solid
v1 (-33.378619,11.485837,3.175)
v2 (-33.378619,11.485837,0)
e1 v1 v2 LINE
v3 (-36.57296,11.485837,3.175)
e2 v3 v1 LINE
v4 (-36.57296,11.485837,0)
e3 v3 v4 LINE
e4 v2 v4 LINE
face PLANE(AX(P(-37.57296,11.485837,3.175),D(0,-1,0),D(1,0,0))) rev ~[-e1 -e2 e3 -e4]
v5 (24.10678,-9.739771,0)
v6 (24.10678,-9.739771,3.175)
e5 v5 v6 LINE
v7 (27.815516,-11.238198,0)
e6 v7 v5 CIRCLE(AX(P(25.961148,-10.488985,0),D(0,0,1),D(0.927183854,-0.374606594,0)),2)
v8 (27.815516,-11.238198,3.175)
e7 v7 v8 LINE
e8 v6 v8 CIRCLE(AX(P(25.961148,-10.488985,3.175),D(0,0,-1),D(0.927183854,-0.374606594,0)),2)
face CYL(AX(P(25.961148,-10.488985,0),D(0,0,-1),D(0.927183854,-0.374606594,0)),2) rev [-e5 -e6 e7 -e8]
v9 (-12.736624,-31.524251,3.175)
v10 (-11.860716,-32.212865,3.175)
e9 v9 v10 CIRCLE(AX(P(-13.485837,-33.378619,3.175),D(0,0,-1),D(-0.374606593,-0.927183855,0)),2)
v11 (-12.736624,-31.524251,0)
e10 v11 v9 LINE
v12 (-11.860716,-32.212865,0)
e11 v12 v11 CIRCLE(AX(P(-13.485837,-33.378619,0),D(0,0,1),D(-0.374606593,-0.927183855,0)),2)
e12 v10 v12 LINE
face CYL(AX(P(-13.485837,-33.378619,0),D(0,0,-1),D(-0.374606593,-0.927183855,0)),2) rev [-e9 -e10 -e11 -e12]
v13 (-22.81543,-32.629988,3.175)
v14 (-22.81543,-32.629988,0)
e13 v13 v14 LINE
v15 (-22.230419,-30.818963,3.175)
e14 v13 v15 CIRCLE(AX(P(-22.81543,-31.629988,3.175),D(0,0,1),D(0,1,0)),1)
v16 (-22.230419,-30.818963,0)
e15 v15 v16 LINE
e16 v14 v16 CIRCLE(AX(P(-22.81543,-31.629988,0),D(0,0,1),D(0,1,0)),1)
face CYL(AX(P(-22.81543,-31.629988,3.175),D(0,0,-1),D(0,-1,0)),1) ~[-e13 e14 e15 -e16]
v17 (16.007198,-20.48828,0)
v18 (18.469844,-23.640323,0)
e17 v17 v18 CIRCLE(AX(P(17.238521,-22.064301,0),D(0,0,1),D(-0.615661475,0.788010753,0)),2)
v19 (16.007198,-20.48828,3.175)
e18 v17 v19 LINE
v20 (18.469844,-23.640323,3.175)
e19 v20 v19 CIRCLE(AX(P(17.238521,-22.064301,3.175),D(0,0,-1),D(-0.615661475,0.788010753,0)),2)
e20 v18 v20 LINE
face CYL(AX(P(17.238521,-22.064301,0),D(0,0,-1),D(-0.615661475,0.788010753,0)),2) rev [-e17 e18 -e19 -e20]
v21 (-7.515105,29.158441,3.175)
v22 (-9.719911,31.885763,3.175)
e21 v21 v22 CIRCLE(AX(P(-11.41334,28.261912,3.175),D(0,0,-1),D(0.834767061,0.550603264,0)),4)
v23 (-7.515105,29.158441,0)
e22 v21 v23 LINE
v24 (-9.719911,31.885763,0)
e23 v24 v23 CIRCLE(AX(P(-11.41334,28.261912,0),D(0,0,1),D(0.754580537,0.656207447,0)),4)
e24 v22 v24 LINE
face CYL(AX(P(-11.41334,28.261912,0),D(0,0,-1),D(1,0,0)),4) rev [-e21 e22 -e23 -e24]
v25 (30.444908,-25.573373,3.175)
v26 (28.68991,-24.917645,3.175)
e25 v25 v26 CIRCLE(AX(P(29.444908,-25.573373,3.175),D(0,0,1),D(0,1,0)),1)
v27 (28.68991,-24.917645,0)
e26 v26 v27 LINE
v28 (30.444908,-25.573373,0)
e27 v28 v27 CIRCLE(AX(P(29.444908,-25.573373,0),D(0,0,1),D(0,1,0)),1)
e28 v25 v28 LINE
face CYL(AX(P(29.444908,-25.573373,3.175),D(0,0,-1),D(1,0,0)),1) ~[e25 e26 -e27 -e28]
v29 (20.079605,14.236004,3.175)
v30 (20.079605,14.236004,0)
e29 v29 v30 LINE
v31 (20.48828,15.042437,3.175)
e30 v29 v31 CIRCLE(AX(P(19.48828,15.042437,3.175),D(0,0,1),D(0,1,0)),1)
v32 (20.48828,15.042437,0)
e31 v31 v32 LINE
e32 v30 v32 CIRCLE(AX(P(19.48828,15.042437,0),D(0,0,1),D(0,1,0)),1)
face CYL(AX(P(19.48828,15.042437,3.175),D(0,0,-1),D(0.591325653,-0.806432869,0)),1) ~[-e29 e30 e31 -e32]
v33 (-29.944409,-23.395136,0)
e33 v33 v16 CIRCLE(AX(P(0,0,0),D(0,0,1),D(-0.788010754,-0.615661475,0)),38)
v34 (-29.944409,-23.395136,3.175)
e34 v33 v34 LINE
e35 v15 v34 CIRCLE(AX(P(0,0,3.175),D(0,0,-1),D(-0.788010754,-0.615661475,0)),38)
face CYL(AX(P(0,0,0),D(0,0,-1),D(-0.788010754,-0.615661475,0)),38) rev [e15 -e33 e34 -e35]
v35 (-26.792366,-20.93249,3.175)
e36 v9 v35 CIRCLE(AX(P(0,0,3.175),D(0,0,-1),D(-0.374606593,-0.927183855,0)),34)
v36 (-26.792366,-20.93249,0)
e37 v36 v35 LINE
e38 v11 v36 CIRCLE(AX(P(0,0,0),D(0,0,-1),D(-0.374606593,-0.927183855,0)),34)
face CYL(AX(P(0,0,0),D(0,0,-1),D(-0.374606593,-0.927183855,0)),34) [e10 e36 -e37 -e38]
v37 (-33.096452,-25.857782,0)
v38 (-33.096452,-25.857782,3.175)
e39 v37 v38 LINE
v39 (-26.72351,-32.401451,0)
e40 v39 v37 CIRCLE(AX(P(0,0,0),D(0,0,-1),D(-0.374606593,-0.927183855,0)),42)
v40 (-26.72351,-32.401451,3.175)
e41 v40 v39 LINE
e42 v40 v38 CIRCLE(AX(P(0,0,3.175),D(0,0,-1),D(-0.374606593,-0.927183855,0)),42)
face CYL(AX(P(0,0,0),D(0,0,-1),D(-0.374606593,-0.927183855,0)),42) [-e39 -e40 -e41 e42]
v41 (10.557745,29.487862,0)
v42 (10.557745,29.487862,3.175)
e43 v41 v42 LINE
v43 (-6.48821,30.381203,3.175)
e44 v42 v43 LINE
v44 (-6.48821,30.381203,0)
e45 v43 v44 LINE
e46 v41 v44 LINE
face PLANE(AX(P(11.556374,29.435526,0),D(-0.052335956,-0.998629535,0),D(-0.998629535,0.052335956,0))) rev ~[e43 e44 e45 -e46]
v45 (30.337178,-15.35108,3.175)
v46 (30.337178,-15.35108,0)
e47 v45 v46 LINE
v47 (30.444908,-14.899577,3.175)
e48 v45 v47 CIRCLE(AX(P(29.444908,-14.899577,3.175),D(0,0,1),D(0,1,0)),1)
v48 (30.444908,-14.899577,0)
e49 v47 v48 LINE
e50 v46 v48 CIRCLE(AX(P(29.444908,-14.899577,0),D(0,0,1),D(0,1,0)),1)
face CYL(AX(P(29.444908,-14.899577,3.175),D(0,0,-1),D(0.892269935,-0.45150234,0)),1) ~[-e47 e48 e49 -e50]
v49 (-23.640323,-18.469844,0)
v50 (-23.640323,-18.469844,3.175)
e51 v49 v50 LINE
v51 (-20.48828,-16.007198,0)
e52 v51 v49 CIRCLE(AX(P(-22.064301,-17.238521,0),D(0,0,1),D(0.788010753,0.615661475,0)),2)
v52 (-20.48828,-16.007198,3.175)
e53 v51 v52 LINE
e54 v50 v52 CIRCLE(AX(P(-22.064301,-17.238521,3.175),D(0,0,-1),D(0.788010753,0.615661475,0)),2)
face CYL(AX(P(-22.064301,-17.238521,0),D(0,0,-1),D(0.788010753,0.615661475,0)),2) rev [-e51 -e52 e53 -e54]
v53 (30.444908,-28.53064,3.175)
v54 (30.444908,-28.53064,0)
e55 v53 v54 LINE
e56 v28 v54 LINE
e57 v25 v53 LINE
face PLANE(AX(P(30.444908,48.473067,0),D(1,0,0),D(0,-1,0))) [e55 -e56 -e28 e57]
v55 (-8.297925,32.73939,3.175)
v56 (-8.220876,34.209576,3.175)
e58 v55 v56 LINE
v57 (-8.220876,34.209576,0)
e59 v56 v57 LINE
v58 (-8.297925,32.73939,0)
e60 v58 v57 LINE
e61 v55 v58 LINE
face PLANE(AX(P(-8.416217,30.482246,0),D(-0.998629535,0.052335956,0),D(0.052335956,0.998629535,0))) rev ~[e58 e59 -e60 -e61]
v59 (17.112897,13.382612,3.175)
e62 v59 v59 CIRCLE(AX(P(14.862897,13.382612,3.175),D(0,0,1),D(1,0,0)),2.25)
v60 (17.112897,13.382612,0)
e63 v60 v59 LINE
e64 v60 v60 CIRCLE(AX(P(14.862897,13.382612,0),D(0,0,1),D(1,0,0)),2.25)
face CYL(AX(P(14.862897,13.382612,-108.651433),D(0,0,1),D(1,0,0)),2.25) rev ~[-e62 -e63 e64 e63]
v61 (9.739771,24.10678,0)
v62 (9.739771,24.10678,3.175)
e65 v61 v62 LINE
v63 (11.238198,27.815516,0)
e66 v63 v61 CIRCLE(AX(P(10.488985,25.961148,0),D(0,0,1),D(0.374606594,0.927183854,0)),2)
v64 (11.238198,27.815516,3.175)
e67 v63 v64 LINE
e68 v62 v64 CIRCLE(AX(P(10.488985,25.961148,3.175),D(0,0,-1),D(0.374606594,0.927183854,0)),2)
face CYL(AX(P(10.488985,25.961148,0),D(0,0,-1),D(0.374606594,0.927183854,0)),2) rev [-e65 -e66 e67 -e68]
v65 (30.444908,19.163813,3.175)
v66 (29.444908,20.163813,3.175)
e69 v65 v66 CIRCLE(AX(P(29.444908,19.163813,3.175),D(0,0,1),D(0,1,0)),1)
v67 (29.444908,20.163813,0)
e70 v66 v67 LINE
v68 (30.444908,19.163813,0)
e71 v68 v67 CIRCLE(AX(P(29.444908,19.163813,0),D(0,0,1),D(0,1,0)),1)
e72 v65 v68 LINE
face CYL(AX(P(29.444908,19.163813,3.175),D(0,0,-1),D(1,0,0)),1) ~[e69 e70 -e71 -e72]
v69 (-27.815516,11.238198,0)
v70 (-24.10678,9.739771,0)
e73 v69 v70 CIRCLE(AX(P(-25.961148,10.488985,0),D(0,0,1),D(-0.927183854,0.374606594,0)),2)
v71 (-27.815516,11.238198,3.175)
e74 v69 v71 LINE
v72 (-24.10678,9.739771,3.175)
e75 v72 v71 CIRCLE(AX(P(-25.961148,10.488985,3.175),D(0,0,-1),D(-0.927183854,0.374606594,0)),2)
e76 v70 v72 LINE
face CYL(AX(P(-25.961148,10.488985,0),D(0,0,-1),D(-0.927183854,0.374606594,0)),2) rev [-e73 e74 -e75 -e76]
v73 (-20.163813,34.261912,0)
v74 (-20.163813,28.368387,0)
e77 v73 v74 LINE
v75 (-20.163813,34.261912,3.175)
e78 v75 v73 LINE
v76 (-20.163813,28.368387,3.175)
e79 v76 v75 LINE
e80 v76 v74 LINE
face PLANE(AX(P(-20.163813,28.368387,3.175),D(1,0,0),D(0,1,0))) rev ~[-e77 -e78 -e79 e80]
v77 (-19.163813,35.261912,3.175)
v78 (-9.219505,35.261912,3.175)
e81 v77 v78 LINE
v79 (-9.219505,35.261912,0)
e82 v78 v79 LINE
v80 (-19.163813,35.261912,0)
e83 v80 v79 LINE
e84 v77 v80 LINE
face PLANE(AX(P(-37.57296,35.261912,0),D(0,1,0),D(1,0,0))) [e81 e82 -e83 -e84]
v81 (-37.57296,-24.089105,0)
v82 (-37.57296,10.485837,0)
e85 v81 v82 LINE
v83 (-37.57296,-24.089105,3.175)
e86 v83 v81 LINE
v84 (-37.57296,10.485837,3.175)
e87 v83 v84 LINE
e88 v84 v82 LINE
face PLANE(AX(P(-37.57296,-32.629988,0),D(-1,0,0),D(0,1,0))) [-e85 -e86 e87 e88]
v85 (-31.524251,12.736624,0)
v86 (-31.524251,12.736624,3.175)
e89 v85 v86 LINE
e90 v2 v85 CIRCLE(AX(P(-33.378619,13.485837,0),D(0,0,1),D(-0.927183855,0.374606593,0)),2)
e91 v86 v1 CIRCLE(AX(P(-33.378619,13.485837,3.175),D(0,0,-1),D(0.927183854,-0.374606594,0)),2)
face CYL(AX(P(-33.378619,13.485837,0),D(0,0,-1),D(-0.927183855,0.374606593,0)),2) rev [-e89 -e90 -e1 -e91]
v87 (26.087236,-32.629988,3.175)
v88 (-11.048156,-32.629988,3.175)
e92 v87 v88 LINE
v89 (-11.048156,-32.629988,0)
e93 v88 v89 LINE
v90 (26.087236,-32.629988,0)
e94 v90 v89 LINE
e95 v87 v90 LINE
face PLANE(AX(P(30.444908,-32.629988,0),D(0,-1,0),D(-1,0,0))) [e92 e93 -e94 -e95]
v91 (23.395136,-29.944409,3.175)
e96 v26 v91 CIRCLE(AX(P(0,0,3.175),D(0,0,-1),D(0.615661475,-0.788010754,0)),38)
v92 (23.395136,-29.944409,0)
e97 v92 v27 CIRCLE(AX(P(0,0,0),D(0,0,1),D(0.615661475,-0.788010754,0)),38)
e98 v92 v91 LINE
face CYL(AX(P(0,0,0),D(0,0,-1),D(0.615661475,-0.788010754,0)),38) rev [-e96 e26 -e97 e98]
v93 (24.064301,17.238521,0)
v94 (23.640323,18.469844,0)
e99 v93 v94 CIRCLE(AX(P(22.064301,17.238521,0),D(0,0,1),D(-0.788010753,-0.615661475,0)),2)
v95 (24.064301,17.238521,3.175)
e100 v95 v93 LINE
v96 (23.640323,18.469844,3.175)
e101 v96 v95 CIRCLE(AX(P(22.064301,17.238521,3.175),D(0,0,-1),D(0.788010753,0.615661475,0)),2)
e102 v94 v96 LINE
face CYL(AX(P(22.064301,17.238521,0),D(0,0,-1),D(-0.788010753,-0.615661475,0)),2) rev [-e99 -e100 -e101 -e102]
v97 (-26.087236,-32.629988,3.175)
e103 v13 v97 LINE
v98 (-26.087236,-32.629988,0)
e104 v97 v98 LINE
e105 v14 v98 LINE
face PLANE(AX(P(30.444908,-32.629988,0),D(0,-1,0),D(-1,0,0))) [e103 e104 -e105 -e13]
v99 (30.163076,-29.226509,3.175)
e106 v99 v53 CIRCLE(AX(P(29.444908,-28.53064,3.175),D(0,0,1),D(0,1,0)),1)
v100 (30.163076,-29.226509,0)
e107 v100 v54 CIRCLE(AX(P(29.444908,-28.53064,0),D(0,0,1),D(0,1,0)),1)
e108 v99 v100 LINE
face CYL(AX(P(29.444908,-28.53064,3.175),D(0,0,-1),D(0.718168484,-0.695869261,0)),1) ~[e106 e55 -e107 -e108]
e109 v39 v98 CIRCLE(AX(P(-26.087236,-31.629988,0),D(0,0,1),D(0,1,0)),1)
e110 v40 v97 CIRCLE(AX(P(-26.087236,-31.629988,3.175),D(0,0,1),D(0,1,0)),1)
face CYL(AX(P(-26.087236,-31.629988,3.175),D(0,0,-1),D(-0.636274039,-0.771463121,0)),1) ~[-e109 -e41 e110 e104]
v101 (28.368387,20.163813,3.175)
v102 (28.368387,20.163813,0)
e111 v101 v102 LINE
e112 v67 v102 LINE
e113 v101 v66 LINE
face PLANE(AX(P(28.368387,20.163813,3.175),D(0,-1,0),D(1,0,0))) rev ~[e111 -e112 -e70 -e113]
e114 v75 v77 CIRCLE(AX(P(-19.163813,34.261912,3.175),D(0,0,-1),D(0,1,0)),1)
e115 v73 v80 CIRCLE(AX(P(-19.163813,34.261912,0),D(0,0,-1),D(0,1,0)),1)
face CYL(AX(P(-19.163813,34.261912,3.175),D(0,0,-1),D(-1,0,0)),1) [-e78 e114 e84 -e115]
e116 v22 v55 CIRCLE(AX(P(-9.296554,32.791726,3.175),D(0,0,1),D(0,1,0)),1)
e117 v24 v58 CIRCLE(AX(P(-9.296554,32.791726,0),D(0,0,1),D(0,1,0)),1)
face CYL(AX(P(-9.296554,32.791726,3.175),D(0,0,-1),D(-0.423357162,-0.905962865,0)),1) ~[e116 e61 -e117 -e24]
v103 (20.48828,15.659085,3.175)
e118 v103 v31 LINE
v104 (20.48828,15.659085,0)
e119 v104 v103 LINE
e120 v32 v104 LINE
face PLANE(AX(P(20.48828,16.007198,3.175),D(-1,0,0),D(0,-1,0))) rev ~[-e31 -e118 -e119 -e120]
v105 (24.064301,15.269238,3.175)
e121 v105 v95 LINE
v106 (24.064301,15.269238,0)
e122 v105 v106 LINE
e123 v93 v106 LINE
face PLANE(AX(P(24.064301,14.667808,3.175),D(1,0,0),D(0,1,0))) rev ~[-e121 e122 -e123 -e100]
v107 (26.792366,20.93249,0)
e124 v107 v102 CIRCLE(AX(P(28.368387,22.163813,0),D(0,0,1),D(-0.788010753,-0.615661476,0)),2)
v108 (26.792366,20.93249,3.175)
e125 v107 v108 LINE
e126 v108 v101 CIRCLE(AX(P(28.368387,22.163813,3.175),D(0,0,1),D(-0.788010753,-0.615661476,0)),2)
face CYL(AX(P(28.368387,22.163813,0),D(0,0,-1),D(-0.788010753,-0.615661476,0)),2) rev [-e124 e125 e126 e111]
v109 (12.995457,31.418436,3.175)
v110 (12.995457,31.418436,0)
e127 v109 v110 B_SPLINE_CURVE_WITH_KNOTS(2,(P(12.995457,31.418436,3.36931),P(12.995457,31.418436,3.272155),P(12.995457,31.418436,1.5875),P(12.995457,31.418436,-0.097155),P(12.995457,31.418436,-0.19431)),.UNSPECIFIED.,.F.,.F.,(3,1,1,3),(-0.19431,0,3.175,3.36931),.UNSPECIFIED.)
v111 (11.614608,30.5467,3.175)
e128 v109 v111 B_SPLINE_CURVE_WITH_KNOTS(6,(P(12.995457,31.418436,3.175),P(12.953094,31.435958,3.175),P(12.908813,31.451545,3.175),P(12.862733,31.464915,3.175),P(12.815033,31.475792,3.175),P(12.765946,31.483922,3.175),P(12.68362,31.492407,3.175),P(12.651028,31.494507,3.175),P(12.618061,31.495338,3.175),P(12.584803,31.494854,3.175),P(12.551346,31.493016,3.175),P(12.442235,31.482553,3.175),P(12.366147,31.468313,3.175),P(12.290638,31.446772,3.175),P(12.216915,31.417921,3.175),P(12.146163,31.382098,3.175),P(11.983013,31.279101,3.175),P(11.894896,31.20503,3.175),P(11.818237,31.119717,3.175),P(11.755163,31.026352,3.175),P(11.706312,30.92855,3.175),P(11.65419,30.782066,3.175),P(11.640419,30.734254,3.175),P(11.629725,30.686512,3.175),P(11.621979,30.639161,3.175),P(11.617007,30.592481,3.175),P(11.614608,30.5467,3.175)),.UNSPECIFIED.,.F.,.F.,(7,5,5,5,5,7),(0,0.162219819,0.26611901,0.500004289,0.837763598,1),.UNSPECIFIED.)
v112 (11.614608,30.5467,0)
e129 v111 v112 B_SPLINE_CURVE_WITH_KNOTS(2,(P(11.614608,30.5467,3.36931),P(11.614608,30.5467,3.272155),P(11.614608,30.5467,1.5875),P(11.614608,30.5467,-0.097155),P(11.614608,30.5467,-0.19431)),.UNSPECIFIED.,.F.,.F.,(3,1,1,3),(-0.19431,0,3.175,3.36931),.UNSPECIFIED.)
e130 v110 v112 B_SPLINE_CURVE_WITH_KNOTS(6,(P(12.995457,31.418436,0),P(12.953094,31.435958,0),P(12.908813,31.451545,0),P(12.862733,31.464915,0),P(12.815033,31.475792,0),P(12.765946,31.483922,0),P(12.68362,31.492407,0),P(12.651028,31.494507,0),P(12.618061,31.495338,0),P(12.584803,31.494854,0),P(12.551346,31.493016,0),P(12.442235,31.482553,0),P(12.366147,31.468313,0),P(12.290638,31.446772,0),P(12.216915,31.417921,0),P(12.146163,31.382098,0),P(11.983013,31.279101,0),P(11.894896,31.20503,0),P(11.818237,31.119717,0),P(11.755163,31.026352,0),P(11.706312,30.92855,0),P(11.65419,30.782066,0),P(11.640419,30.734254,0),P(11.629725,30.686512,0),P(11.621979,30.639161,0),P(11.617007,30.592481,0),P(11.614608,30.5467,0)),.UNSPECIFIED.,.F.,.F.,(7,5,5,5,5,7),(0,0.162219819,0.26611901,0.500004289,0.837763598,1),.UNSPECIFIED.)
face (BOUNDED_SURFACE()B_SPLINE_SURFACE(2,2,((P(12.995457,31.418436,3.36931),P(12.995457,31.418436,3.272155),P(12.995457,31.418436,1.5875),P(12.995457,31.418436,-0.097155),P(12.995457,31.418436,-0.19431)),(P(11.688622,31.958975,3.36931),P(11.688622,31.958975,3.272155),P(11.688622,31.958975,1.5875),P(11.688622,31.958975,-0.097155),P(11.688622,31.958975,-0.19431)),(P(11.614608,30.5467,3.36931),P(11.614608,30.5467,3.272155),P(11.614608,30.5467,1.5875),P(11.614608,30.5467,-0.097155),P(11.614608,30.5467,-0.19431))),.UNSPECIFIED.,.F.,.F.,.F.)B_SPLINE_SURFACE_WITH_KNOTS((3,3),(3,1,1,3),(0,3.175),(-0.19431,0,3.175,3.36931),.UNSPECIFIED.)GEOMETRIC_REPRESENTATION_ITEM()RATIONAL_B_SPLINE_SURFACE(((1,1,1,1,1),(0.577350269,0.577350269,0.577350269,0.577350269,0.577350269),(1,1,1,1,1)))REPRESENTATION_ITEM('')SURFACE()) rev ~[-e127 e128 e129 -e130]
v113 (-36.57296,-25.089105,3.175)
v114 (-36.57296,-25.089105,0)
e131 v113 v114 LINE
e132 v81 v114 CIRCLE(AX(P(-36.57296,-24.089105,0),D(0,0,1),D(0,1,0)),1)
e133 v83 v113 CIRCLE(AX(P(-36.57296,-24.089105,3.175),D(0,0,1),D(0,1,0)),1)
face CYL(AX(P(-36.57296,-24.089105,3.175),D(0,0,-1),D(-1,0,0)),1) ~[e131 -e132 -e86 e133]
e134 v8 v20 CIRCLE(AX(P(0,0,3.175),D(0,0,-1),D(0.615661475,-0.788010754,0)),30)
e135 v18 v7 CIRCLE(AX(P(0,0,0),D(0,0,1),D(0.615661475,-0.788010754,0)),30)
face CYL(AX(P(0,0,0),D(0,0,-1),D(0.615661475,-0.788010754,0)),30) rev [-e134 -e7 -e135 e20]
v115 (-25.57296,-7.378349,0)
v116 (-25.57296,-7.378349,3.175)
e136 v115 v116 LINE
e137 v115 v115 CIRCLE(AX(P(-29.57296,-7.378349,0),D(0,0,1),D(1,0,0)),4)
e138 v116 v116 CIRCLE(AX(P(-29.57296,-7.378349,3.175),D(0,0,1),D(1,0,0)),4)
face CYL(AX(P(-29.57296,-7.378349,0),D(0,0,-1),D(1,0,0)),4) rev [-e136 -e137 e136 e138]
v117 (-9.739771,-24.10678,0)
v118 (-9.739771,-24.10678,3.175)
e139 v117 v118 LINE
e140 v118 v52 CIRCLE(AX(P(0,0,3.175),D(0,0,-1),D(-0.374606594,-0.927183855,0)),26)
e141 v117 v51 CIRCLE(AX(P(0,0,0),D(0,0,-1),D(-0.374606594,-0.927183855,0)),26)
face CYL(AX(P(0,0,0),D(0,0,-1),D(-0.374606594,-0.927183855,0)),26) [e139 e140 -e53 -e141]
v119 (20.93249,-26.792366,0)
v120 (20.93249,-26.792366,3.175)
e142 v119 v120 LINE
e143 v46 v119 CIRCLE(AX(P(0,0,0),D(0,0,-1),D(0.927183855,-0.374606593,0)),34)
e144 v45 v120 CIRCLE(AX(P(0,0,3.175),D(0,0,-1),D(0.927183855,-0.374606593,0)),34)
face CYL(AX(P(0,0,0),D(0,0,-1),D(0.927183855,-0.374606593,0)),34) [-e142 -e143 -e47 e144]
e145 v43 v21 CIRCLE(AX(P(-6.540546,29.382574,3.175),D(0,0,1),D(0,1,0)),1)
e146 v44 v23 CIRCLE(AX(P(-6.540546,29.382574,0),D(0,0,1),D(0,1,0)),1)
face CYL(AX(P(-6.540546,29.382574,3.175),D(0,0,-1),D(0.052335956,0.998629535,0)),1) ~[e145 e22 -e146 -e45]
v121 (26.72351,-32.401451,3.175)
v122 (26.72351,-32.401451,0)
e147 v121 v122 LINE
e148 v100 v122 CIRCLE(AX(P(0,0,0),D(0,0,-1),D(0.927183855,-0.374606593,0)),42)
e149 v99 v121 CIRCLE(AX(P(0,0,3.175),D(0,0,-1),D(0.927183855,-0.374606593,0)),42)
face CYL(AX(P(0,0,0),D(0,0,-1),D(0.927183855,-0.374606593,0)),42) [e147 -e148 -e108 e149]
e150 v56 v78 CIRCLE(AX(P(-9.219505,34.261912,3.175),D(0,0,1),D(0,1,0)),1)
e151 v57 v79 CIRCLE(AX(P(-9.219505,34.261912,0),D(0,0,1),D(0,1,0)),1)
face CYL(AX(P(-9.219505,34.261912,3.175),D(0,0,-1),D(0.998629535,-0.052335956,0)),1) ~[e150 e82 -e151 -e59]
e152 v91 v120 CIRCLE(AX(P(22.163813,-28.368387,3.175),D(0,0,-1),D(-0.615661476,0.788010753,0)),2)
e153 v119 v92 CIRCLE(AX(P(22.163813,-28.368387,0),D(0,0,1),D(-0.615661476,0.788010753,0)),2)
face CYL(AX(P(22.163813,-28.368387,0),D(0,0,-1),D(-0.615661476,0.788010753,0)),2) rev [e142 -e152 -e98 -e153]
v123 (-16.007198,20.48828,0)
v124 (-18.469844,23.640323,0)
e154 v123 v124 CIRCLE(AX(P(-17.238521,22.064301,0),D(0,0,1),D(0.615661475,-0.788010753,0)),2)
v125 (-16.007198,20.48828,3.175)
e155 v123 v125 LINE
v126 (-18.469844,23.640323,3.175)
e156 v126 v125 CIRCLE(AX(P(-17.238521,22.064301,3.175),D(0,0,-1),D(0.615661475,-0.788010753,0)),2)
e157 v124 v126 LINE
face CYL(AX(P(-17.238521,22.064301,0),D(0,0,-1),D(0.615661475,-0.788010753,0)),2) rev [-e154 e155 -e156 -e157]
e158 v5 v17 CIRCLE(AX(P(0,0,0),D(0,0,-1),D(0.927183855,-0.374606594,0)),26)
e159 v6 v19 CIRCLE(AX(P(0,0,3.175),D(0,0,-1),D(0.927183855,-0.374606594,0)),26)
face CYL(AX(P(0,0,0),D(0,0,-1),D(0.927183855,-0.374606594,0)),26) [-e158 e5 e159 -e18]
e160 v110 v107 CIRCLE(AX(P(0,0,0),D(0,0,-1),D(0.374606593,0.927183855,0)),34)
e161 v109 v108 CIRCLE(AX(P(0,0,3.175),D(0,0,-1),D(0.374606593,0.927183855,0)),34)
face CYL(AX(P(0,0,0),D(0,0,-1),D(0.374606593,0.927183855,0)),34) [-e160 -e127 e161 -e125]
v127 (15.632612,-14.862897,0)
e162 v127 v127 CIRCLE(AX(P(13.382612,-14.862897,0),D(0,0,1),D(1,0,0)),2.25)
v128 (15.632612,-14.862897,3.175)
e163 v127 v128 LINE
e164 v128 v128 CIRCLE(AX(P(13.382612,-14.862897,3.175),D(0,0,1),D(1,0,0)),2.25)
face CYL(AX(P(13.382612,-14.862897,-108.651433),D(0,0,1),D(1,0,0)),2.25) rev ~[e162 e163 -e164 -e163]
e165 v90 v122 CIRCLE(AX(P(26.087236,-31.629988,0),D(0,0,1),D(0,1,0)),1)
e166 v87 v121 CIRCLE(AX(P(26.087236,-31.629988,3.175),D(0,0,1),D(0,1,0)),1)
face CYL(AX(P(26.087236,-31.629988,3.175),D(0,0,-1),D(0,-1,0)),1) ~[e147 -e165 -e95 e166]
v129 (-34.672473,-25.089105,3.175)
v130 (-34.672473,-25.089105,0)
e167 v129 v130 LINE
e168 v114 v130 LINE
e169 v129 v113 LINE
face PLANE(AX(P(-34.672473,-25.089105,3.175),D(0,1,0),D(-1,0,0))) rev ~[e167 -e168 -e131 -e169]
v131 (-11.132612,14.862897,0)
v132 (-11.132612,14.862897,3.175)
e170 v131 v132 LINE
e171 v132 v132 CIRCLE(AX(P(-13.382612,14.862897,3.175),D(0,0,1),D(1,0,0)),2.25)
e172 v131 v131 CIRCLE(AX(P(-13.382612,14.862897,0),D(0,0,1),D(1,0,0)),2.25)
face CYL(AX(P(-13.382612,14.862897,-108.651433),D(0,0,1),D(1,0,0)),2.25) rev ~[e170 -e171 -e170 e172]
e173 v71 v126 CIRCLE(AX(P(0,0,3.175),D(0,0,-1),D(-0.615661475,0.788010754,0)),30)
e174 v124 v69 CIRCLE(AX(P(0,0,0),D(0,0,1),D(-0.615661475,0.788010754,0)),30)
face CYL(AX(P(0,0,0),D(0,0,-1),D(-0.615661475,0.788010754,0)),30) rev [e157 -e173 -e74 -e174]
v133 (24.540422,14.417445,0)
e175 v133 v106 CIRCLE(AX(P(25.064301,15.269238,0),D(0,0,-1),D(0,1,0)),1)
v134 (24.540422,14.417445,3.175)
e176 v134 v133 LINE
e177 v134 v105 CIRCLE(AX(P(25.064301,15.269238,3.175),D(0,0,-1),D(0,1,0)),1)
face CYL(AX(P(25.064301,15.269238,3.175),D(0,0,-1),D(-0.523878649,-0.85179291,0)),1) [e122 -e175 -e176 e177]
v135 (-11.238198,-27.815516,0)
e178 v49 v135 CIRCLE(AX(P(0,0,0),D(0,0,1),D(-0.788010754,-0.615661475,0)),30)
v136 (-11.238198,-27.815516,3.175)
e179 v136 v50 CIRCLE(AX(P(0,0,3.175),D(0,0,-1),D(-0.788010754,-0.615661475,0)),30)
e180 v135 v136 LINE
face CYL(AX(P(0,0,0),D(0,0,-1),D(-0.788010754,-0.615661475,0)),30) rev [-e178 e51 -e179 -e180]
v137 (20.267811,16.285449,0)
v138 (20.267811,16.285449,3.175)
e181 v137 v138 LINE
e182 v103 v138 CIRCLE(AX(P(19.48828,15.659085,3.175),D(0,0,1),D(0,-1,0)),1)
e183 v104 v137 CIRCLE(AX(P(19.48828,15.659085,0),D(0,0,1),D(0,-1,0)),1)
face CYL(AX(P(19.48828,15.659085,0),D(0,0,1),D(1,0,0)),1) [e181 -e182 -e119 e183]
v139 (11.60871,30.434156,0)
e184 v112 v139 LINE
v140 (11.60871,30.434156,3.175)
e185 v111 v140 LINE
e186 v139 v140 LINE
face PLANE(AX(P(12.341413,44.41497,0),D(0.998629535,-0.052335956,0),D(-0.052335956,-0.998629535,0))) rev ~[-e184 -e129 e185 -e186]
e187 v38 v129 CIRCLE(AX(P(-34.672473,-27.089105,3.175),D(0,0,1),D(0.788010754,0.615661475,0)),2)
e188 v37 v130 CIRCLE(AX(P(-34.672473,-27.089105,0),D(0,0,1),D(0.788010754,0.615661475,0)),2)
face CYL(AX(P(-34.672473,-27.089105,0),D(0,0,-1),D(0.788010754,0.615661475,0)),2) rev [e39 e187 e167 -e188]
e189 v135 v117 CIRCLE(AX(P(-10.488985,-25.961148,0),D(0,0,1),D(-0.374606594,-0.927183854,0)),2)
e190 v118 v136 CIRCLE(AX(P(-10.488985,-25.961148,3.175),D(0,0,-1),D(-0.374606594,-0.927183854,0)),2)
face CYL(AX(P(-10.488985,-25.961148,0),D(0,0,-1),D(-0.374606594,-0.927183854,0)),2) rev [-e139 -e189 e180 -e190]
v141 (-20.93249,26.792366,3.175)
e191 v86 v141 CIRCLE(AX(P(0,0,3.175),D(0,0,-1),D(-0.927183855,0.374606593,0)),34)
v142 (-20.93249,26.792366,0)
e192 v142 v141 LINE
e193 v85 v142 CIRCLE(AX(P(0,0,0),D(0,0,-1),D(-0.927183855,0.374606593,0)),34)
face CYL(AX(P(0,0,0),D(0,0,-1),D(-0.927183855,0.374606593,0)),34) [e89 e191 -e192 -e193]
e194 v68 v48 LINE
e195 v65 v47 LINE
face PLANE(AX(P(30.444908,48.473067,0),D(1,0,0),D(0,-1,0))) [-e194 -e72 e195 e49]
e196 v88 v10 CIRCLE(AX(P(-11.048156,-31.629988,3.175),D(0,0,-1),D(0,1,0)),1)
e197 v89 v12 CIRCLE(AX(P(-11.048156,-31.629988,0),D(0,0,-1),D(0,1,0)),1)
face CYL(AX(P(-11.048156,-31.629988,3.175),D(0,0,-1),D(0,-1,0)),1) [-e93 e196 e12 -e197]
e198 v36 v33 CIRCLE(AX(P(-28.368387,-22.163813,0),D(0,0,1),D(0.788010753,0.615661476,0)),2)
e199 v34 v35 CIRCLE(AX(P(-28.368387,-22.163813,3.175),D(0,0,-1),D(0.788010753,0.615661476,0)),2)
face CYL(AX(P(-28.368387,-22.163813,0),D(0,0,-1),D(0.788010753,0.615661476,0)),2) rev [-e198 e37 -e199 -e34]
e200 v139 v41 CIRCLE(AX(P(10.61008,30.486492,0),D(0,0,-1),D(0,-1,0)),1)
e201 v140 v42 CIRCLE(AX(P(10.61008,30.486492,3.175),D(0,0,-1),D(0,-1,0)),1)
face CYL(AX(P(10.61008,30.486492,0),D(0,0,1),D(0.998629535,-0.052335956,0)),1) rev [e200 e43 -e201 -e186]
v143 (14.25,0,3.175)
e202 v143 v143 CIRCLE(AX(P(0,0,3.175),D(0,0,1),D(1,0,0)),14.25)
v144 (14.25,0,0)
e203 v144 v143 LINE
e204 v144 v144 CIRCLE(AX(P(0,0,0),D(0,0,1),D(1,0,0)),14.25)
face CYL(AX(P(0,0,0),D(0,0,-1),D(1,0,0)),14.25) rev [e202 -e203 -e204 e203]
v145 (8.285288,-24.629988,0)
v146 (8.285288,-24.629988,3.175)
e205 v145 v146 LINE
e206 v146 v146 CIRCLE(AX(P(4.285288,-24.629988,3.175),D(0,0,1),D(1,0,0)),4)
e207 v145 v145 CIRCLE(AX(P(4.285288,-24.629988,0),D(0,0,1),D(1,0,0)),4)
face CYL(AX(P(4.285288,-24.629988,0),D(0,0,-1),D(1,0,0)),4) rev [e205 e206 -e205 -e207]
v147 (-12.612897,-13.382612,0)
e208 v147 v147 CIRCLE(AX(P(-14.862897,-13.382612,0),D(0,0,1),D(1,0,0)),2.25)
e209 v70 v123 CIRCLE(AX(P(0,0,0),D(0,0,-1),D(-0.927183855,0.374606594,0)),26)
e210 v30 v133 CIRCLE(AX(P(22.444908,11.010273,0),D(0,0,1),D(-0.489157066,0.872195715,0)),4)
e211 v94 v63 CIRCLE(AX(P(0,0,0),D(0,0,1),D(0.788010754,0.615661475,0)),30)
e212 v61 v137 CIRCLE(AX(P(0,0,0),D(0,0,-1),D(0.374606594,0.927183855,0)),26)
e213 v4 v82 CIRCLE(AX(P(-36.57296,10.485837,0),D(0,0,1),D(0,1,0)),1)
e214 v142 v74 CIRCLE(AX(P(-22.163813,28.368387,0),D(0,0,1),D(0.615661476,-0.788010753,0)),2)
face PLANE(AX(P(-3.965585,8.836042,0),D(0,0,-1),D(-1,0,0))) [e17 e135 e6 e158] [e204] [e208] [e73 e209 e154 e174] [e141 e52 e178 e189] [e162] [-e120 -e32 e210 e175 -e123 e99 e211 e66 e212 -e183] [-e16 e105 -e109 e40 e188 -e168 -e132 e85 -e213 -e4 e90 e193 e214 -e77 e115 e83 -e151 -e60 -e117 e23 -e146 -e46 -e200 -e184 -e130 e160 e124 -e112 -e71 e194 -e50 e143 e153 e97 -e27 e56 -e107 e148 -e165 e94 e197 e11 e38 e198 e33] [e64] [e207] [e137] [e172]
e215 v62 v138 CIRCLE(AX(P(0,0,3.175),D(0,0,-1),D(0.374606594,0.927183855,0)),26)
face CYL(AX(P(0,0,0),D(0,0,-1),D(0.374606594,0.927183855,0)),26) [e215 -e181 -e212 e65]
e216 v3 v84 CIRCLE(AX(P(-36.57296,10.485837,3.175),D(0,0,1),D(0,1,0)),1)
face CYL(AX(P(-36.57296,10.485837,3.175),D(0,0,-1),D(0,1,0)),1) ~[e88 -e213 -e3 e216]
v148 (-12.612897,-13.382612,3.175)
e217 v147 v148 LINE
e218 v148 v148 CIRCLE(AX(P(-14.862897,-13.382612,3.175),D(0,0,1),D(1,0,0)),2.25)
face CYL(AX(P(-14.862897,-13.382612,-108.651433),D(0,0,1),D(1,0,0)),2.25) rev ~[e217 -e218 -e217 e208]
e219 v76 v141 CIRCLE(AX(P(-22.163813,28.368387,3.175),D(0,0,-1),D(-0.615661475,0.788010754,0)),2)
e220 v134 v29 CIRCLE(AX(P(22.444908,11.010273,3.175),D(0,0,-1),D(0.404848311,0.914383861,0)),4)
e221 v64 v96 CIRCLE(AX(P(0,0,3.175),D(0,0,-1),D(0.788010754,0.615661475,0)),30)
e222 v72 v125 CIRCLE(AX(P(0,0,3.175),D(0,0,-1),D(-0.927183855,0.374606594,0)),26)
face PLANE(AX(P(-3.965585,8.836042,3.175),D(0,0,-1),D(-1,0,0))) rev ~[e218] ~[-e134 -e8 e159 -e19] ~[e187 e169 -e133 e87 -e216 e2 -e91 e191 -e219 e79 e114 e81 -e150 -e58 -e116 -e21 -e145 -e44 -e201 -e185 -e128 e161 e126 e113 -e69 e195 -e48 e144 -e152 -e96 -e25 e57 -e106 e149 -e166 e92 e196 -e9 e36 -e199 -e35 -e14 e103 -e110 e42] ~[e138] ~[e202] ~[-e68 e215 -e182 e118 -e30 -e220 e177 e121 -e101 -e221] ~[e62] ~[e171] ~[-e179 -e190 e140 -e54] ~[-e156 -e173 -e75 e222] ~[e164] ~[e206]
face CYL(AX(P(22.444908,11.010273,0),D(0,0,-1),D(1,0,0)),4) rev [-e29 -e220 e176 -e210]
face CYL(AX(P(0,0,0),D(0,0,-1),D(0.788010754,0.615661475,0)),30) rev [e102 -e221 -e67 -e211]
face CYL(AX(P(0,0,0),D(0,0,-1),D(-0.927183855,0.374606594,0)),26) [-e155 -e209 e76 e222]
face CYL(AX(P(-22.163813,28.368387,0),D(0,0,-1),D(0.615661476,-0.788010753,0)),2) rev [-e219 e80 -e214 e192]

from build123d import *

# Parameters (mm, degrees)
SKETCH1_R               = 14.25
SKETCH1_R_2             = 4
BOSS_EXTRUDE1_DEPTH     = 3.175
M4_CLEARANCE_HOLE1_D    = 4.5
VENTHOLES_DEPTH         = 65.263003169
CIRPATTERN1_COUNT       = 4
CUT_EXTRUDE2_DEPTH      = 65.263003169
SKETCH7_W               = 68.017867909
SKETCH7_H               = 13.211155311
CUT_EXTRUDE3_DEPTH      = 65.263003169
CUT_EXTRUDE3_DEPTH_BACK = 65.263003169
CUT_EXTRUDE4_DEPTH      = 52.625675669
CUT_EXTRUDE4_DEPTH_BACK = 52.625675669
CUT_EXTRUDE5_DEPTH      = 52.625675669
CUT_EXTRUDE5_DEPTH_BACK = 52.625675669
FILLET1_R               = 1


with BuildPart() as part:
    # Sketch1 → Boss-Extrude1 (new body)
    with BuildSketch(Plane.XY):
        Polygon((30.444907858, -32.62998798), (-37.572960051, -32.62998798), (-37.572960051, 52.037732697), (30.444907858, 48.473067289), align=None)
        Circle(SKETCH1_R, mode=Mode.SUBTRACT)
        with Locations((-29.572960051, -7.37834899)):
            Circle(SKETCH1_R_2, mode=Mode.SUBTRACT)
        with Locations((-11.413340062, 28.261911978)):
            Circle(SKETCH1_R_2, mode=Mode.SUBTRACT)
        with Locations((22.444907858, 11.010272988)):
            Circle(SKETCH1_R_2, mode=Mode.SUBTRACT)
        with Locations((4.285287868, -24.62998798)):
            Circle(SKETCH1_R_2, mode=Mode.SUBTRACT)
    extrude(amount=BOSS_EXTRUDE1_DEPTH)

    # M4 Clearance Hole1 (through all)
    with Locations(Plane(origin=(0, 0, 0), x_dir=(-1, 0, 0), z_dir=(0, 0, -1))):
        with Locations((-14.86289651, 13.382612127), (13.382612127, 14.86289651), (14.86289651, -13.382612127), (-13.382612127, -14.86289651)):
            Hole(M4_CLEARANCE_HOLE1_D / 2)

    # Sketch4 → VentHoles (cut, through all)
    with BuildSketch(Plane.XY):
        with BuildLine():
            ThreePointArc((-23.395136062, 29.944408637), (-30.348149382, 22.86897088), (-35.232986474, 14.23505055))
            ThreePointArc((-35.232986474, 14.23505055), (-34.127831951, 11.631469654), (-31.524251055, 12.736624176))
            ThreePointArc((-31.524251055, 12.736624176), (-27.153607342, 20.461710787), (-20.932490161, 26.792365623))
            ThreePointArc((-20.932490161, 26.792365623), (-20.587791605, 29.59971008), (-23.395136062, 29.944408637))
        make_face()
        with BuildLine():
            ThreePointArc((-18.46984426, 23.640322608), (-23.959065301, 18.054450695), (-27.815515637, 11.238197802))
            ThreePointArc((-27.815515637, 11.238197802), (-26.710361115, 8.634616906), (-24.106780219, 9.739771429))
            ThreePointArc((-24.106780219, 9.739771429), (-20.764523261, 15.647190602), (-16.007198358, 20.488279594))
            ThreePointArc((-16.007198358, 20.488279594), (-15.662499802, 23.295624052), (-18.46984426, 23.640322608))
        make_face()
        with BuildLine():
            ThreePointArc((-42.65045731, 17.231903297), (-41.545302788, 14.628322401), (-38.941721892, 15.733476923))
            ThreePointArc((-38.941721892, 15.733476923), (-33.542691422, 25.276230972), (-25.857781964, 33.096451651))
            ThreePointArc((-25.857781964, 33.096451651), (-25.513083407, 35.903796109), (-28.320427865, 36.248494666))
            ThreePointArc((-28.320427865, 36.248494666), (-36.737233462, 27.683491065), (-42.65045731, 17.231903297))
        make_face()
    ventholes = extrude(amount=VENTHOLES_DEPTH, mode=Mode.SUBTRACT)

    # CirPattern1: VentHoles ×4 about axis
    cirpattern1_axis = Axis((0, 0, 0), (0, 0, 1))
    for i in range(1, CIRPATTERN1_COUNT):
        add(ventholes.rotate(cirpattern1_axis, i * 360 / CIRPATTERN1_COUNT), mode=Mode.SUBTRACT)

    # Sketch5 → Cut-Extrude2 (cut, through all)
    with BuildSketch(Plane.XY):
        Polygon((12.341413378, 44.414969502), (11.556374035, 29.43552648), (-8.41621666, 30.482245605), (-7.631177317, 45.461688626), align=None)
    extrude(amount=CUT_EXTRUDE2_DEPTH, mode=Mode.SUBTRACT)

    # Sketch7 → Cut-Extrude3 (cut, two sides)
    with BuildSketch(Plane.XY) as cut_extrude3_sk:
        with Locations((-3.564026097, 41.867489633)):
            Rectangle(SKETCH7_W, SKETCH7_H)
    extrude(amount=CUT_EXTRUDE3_DEPTH, mode=Mode.SUBTRACT)
    extrude(cut_extrude3_sk.sketch, amount=-CUT_EXTRUDE3_DEPTH_BACK, mode=Mode.SUBTRACT)


with BuildPart() as cut_extrude3_piece_1:
    # of the separate pieces the step leaves, piece 1, a body of its own (cut_extrude3_pieces)
    add(part.part.solids().sort_by_distance((26.443976335, -32.62998798, 0))[0])

    # Sketch9 → Cut-Extrude4 (cut, two sides)
    with BuildSketch(Plane.XY.offset(3.175)) as cut_extrude4_sk:
        with BuildLine():
            ThreePointArc((24.064301101, 17.238521309), (22.71543741, 15.347484158), (20.488279594, 16.007198358))
            Line((20.488279594, 16.007198358), (20.488279594, 14.499055847))
            ThreePointArc((20.488279594, 14.499055847), (22.256357537, 15.005826613), (24.064301101, 14.667808432))
            Line((24.064301101, 14.667808432), (24.064301101, 17.238521309))
        make_face()
    extrude(amount=CUT_EXTRUDE4_DEPTH, mode=Mode.SUBTRACT)
    extrude(cut_extrude4_sk.sketch, amount=-CUT_EXTRUDE4_DEPTH_BACK, mode=Mode.SUBTRACT)

    # Sketch10 → Cut-Extrude5 (cut, two sides)
    with BuildSketch(Plane.XY.offset(3.175)) as cut_extrude5_sk:
        Polygon((-37.572960051, -32.62998798), (-30.450066979, -32.62998798), (-34.672473159, -25.089104914), (-37.572960051, -25.089104914), align=None)
        Polygon((30.444907858, 36.985955285), (11.775698683, 36.985955285), (28.36838713, 20.163813112), (30.444907858, 20.163813112), align=None)
        with BuildLine():
            Line((-37.572960051, 18.768928392), (-37.572960051, 11.485837363))
            Line((-37.572960051, 11.485837363), (-33.378618764, 11.485837363))
            ThreePointArc((-33.378618764, 11.485837363), (-35.03669391, 12.367451556), (-35.232986474, 14.23505055))
            ThreePointArc((-35.232986474, 14.23505055), (-30.348149382, 22.86897088), (-23.395136062, 29.944408637))
            ThreePointArc((-23.395136062, 29.944408637), (-21.287070818, 30.165975222), (-20.163813112, 28.36838713))
            Line((-20.163813112, 28.36838713), (-20.163813112, 35.261911978))
            Line((-20.163813112, 35.261911978), (-25.17793724, 35.261911978))
            ThreePointArc((-25.17793724, 35.261911978), (-25.180933948, 34.073404246), (-25.857781964, 33.096451651))
            ThreePointArc((-25.857781964, 33.096451651), (-32.514369728, 26.586006868), (-37.572960051, 18.768928392))
        make_face()
    extrude(amount=CUT_EXTRUDE5_DEPTH, mode=Mode.SUBTRACT)
    extrude(cut_extrude5_sk.sketch, amount=-CUT_EXTRUDE5_DEPTH_BACK, mode=Mode.SUBTRACT)

    # Fillet1
    fillet1_edges = [cut_extrude3_piece_1.edges().sort_by_distance(p)[0] for p in [
        (30.444907858, -28.932811573, 1.5875),
        (26.443976335, -32.62998798, 1.5875),
        (-11.631234454, -32.62998798, 1.5875),
        (-19.475212051, -32.62998798, 1.5875),
        (11.714368197, 32.450234687, 1.5875),
        (-8.16572496, 35.261911978, 1.5875),
        (-26.443976335, -32.62998798, 1.5875),
        (11.556374035, 29.43552648, 1.5875),
        (-8.395017915, 30.886741766, 1.5875),
        (-8.07427182, 30.464325035, 1.5875),
        (20.488279594, 16.007198358, 1.5875),
        (20.488279594, 14.499055847, 1.5875),
        (24.064301101, 14.667808432, 1.5875),
        (30.444907858, -22.739999682, 1.5875),
        (-37.572960051, -25.089104914, 1.5875),
        (30.444907858, -15.136300259, 1.5875),
        (30.444907858, 20.163813112, 1.5875),
        (-20.163813112, 35.261911978, 1.5875),
        (-37.572960051, 11.485837363, 1.5875),
    ]]
    fillet(fillet1_edges, radius=FILLET1_R)


with BuildPart() as cut_extrude3_piece_2:
    # of the separate pieces the step leaves, piece 2, a body of its own (cut_extrude3_pieces)
    add(part.part.solids().sort_by_distance((30.444907858, 48.473067289, 0))[0])


with BuildPart() as cut_extrude3_piece_3:
    # of the separate pieces the step leaves, piece 3, a body of its own (cut_extrude3_pieces)
    add(part.part.solids().sort_by_distance((-37.572960051, 35.261911978, 0))[0])


with BuildPart() as cut_extrude3_piece_4:
    # of the separate pieces the step leaves, piece 4, a body of its own (cut_extrude3_pieces)
    add(part.part.solids().sort_by_distance((29.539762417, 35.261911978, 0))[0])


with BuildPart() as cut_extrude3_piece_5:
    # of the separate pieces the step leaves, piece 5, a body of its own (cut_extrude3_pieces)
    add(part.part.solids().sort_by_distance((11.86172196, 35.261911978, 0))[0])


solid = cut_extrude3_piece_1.part
